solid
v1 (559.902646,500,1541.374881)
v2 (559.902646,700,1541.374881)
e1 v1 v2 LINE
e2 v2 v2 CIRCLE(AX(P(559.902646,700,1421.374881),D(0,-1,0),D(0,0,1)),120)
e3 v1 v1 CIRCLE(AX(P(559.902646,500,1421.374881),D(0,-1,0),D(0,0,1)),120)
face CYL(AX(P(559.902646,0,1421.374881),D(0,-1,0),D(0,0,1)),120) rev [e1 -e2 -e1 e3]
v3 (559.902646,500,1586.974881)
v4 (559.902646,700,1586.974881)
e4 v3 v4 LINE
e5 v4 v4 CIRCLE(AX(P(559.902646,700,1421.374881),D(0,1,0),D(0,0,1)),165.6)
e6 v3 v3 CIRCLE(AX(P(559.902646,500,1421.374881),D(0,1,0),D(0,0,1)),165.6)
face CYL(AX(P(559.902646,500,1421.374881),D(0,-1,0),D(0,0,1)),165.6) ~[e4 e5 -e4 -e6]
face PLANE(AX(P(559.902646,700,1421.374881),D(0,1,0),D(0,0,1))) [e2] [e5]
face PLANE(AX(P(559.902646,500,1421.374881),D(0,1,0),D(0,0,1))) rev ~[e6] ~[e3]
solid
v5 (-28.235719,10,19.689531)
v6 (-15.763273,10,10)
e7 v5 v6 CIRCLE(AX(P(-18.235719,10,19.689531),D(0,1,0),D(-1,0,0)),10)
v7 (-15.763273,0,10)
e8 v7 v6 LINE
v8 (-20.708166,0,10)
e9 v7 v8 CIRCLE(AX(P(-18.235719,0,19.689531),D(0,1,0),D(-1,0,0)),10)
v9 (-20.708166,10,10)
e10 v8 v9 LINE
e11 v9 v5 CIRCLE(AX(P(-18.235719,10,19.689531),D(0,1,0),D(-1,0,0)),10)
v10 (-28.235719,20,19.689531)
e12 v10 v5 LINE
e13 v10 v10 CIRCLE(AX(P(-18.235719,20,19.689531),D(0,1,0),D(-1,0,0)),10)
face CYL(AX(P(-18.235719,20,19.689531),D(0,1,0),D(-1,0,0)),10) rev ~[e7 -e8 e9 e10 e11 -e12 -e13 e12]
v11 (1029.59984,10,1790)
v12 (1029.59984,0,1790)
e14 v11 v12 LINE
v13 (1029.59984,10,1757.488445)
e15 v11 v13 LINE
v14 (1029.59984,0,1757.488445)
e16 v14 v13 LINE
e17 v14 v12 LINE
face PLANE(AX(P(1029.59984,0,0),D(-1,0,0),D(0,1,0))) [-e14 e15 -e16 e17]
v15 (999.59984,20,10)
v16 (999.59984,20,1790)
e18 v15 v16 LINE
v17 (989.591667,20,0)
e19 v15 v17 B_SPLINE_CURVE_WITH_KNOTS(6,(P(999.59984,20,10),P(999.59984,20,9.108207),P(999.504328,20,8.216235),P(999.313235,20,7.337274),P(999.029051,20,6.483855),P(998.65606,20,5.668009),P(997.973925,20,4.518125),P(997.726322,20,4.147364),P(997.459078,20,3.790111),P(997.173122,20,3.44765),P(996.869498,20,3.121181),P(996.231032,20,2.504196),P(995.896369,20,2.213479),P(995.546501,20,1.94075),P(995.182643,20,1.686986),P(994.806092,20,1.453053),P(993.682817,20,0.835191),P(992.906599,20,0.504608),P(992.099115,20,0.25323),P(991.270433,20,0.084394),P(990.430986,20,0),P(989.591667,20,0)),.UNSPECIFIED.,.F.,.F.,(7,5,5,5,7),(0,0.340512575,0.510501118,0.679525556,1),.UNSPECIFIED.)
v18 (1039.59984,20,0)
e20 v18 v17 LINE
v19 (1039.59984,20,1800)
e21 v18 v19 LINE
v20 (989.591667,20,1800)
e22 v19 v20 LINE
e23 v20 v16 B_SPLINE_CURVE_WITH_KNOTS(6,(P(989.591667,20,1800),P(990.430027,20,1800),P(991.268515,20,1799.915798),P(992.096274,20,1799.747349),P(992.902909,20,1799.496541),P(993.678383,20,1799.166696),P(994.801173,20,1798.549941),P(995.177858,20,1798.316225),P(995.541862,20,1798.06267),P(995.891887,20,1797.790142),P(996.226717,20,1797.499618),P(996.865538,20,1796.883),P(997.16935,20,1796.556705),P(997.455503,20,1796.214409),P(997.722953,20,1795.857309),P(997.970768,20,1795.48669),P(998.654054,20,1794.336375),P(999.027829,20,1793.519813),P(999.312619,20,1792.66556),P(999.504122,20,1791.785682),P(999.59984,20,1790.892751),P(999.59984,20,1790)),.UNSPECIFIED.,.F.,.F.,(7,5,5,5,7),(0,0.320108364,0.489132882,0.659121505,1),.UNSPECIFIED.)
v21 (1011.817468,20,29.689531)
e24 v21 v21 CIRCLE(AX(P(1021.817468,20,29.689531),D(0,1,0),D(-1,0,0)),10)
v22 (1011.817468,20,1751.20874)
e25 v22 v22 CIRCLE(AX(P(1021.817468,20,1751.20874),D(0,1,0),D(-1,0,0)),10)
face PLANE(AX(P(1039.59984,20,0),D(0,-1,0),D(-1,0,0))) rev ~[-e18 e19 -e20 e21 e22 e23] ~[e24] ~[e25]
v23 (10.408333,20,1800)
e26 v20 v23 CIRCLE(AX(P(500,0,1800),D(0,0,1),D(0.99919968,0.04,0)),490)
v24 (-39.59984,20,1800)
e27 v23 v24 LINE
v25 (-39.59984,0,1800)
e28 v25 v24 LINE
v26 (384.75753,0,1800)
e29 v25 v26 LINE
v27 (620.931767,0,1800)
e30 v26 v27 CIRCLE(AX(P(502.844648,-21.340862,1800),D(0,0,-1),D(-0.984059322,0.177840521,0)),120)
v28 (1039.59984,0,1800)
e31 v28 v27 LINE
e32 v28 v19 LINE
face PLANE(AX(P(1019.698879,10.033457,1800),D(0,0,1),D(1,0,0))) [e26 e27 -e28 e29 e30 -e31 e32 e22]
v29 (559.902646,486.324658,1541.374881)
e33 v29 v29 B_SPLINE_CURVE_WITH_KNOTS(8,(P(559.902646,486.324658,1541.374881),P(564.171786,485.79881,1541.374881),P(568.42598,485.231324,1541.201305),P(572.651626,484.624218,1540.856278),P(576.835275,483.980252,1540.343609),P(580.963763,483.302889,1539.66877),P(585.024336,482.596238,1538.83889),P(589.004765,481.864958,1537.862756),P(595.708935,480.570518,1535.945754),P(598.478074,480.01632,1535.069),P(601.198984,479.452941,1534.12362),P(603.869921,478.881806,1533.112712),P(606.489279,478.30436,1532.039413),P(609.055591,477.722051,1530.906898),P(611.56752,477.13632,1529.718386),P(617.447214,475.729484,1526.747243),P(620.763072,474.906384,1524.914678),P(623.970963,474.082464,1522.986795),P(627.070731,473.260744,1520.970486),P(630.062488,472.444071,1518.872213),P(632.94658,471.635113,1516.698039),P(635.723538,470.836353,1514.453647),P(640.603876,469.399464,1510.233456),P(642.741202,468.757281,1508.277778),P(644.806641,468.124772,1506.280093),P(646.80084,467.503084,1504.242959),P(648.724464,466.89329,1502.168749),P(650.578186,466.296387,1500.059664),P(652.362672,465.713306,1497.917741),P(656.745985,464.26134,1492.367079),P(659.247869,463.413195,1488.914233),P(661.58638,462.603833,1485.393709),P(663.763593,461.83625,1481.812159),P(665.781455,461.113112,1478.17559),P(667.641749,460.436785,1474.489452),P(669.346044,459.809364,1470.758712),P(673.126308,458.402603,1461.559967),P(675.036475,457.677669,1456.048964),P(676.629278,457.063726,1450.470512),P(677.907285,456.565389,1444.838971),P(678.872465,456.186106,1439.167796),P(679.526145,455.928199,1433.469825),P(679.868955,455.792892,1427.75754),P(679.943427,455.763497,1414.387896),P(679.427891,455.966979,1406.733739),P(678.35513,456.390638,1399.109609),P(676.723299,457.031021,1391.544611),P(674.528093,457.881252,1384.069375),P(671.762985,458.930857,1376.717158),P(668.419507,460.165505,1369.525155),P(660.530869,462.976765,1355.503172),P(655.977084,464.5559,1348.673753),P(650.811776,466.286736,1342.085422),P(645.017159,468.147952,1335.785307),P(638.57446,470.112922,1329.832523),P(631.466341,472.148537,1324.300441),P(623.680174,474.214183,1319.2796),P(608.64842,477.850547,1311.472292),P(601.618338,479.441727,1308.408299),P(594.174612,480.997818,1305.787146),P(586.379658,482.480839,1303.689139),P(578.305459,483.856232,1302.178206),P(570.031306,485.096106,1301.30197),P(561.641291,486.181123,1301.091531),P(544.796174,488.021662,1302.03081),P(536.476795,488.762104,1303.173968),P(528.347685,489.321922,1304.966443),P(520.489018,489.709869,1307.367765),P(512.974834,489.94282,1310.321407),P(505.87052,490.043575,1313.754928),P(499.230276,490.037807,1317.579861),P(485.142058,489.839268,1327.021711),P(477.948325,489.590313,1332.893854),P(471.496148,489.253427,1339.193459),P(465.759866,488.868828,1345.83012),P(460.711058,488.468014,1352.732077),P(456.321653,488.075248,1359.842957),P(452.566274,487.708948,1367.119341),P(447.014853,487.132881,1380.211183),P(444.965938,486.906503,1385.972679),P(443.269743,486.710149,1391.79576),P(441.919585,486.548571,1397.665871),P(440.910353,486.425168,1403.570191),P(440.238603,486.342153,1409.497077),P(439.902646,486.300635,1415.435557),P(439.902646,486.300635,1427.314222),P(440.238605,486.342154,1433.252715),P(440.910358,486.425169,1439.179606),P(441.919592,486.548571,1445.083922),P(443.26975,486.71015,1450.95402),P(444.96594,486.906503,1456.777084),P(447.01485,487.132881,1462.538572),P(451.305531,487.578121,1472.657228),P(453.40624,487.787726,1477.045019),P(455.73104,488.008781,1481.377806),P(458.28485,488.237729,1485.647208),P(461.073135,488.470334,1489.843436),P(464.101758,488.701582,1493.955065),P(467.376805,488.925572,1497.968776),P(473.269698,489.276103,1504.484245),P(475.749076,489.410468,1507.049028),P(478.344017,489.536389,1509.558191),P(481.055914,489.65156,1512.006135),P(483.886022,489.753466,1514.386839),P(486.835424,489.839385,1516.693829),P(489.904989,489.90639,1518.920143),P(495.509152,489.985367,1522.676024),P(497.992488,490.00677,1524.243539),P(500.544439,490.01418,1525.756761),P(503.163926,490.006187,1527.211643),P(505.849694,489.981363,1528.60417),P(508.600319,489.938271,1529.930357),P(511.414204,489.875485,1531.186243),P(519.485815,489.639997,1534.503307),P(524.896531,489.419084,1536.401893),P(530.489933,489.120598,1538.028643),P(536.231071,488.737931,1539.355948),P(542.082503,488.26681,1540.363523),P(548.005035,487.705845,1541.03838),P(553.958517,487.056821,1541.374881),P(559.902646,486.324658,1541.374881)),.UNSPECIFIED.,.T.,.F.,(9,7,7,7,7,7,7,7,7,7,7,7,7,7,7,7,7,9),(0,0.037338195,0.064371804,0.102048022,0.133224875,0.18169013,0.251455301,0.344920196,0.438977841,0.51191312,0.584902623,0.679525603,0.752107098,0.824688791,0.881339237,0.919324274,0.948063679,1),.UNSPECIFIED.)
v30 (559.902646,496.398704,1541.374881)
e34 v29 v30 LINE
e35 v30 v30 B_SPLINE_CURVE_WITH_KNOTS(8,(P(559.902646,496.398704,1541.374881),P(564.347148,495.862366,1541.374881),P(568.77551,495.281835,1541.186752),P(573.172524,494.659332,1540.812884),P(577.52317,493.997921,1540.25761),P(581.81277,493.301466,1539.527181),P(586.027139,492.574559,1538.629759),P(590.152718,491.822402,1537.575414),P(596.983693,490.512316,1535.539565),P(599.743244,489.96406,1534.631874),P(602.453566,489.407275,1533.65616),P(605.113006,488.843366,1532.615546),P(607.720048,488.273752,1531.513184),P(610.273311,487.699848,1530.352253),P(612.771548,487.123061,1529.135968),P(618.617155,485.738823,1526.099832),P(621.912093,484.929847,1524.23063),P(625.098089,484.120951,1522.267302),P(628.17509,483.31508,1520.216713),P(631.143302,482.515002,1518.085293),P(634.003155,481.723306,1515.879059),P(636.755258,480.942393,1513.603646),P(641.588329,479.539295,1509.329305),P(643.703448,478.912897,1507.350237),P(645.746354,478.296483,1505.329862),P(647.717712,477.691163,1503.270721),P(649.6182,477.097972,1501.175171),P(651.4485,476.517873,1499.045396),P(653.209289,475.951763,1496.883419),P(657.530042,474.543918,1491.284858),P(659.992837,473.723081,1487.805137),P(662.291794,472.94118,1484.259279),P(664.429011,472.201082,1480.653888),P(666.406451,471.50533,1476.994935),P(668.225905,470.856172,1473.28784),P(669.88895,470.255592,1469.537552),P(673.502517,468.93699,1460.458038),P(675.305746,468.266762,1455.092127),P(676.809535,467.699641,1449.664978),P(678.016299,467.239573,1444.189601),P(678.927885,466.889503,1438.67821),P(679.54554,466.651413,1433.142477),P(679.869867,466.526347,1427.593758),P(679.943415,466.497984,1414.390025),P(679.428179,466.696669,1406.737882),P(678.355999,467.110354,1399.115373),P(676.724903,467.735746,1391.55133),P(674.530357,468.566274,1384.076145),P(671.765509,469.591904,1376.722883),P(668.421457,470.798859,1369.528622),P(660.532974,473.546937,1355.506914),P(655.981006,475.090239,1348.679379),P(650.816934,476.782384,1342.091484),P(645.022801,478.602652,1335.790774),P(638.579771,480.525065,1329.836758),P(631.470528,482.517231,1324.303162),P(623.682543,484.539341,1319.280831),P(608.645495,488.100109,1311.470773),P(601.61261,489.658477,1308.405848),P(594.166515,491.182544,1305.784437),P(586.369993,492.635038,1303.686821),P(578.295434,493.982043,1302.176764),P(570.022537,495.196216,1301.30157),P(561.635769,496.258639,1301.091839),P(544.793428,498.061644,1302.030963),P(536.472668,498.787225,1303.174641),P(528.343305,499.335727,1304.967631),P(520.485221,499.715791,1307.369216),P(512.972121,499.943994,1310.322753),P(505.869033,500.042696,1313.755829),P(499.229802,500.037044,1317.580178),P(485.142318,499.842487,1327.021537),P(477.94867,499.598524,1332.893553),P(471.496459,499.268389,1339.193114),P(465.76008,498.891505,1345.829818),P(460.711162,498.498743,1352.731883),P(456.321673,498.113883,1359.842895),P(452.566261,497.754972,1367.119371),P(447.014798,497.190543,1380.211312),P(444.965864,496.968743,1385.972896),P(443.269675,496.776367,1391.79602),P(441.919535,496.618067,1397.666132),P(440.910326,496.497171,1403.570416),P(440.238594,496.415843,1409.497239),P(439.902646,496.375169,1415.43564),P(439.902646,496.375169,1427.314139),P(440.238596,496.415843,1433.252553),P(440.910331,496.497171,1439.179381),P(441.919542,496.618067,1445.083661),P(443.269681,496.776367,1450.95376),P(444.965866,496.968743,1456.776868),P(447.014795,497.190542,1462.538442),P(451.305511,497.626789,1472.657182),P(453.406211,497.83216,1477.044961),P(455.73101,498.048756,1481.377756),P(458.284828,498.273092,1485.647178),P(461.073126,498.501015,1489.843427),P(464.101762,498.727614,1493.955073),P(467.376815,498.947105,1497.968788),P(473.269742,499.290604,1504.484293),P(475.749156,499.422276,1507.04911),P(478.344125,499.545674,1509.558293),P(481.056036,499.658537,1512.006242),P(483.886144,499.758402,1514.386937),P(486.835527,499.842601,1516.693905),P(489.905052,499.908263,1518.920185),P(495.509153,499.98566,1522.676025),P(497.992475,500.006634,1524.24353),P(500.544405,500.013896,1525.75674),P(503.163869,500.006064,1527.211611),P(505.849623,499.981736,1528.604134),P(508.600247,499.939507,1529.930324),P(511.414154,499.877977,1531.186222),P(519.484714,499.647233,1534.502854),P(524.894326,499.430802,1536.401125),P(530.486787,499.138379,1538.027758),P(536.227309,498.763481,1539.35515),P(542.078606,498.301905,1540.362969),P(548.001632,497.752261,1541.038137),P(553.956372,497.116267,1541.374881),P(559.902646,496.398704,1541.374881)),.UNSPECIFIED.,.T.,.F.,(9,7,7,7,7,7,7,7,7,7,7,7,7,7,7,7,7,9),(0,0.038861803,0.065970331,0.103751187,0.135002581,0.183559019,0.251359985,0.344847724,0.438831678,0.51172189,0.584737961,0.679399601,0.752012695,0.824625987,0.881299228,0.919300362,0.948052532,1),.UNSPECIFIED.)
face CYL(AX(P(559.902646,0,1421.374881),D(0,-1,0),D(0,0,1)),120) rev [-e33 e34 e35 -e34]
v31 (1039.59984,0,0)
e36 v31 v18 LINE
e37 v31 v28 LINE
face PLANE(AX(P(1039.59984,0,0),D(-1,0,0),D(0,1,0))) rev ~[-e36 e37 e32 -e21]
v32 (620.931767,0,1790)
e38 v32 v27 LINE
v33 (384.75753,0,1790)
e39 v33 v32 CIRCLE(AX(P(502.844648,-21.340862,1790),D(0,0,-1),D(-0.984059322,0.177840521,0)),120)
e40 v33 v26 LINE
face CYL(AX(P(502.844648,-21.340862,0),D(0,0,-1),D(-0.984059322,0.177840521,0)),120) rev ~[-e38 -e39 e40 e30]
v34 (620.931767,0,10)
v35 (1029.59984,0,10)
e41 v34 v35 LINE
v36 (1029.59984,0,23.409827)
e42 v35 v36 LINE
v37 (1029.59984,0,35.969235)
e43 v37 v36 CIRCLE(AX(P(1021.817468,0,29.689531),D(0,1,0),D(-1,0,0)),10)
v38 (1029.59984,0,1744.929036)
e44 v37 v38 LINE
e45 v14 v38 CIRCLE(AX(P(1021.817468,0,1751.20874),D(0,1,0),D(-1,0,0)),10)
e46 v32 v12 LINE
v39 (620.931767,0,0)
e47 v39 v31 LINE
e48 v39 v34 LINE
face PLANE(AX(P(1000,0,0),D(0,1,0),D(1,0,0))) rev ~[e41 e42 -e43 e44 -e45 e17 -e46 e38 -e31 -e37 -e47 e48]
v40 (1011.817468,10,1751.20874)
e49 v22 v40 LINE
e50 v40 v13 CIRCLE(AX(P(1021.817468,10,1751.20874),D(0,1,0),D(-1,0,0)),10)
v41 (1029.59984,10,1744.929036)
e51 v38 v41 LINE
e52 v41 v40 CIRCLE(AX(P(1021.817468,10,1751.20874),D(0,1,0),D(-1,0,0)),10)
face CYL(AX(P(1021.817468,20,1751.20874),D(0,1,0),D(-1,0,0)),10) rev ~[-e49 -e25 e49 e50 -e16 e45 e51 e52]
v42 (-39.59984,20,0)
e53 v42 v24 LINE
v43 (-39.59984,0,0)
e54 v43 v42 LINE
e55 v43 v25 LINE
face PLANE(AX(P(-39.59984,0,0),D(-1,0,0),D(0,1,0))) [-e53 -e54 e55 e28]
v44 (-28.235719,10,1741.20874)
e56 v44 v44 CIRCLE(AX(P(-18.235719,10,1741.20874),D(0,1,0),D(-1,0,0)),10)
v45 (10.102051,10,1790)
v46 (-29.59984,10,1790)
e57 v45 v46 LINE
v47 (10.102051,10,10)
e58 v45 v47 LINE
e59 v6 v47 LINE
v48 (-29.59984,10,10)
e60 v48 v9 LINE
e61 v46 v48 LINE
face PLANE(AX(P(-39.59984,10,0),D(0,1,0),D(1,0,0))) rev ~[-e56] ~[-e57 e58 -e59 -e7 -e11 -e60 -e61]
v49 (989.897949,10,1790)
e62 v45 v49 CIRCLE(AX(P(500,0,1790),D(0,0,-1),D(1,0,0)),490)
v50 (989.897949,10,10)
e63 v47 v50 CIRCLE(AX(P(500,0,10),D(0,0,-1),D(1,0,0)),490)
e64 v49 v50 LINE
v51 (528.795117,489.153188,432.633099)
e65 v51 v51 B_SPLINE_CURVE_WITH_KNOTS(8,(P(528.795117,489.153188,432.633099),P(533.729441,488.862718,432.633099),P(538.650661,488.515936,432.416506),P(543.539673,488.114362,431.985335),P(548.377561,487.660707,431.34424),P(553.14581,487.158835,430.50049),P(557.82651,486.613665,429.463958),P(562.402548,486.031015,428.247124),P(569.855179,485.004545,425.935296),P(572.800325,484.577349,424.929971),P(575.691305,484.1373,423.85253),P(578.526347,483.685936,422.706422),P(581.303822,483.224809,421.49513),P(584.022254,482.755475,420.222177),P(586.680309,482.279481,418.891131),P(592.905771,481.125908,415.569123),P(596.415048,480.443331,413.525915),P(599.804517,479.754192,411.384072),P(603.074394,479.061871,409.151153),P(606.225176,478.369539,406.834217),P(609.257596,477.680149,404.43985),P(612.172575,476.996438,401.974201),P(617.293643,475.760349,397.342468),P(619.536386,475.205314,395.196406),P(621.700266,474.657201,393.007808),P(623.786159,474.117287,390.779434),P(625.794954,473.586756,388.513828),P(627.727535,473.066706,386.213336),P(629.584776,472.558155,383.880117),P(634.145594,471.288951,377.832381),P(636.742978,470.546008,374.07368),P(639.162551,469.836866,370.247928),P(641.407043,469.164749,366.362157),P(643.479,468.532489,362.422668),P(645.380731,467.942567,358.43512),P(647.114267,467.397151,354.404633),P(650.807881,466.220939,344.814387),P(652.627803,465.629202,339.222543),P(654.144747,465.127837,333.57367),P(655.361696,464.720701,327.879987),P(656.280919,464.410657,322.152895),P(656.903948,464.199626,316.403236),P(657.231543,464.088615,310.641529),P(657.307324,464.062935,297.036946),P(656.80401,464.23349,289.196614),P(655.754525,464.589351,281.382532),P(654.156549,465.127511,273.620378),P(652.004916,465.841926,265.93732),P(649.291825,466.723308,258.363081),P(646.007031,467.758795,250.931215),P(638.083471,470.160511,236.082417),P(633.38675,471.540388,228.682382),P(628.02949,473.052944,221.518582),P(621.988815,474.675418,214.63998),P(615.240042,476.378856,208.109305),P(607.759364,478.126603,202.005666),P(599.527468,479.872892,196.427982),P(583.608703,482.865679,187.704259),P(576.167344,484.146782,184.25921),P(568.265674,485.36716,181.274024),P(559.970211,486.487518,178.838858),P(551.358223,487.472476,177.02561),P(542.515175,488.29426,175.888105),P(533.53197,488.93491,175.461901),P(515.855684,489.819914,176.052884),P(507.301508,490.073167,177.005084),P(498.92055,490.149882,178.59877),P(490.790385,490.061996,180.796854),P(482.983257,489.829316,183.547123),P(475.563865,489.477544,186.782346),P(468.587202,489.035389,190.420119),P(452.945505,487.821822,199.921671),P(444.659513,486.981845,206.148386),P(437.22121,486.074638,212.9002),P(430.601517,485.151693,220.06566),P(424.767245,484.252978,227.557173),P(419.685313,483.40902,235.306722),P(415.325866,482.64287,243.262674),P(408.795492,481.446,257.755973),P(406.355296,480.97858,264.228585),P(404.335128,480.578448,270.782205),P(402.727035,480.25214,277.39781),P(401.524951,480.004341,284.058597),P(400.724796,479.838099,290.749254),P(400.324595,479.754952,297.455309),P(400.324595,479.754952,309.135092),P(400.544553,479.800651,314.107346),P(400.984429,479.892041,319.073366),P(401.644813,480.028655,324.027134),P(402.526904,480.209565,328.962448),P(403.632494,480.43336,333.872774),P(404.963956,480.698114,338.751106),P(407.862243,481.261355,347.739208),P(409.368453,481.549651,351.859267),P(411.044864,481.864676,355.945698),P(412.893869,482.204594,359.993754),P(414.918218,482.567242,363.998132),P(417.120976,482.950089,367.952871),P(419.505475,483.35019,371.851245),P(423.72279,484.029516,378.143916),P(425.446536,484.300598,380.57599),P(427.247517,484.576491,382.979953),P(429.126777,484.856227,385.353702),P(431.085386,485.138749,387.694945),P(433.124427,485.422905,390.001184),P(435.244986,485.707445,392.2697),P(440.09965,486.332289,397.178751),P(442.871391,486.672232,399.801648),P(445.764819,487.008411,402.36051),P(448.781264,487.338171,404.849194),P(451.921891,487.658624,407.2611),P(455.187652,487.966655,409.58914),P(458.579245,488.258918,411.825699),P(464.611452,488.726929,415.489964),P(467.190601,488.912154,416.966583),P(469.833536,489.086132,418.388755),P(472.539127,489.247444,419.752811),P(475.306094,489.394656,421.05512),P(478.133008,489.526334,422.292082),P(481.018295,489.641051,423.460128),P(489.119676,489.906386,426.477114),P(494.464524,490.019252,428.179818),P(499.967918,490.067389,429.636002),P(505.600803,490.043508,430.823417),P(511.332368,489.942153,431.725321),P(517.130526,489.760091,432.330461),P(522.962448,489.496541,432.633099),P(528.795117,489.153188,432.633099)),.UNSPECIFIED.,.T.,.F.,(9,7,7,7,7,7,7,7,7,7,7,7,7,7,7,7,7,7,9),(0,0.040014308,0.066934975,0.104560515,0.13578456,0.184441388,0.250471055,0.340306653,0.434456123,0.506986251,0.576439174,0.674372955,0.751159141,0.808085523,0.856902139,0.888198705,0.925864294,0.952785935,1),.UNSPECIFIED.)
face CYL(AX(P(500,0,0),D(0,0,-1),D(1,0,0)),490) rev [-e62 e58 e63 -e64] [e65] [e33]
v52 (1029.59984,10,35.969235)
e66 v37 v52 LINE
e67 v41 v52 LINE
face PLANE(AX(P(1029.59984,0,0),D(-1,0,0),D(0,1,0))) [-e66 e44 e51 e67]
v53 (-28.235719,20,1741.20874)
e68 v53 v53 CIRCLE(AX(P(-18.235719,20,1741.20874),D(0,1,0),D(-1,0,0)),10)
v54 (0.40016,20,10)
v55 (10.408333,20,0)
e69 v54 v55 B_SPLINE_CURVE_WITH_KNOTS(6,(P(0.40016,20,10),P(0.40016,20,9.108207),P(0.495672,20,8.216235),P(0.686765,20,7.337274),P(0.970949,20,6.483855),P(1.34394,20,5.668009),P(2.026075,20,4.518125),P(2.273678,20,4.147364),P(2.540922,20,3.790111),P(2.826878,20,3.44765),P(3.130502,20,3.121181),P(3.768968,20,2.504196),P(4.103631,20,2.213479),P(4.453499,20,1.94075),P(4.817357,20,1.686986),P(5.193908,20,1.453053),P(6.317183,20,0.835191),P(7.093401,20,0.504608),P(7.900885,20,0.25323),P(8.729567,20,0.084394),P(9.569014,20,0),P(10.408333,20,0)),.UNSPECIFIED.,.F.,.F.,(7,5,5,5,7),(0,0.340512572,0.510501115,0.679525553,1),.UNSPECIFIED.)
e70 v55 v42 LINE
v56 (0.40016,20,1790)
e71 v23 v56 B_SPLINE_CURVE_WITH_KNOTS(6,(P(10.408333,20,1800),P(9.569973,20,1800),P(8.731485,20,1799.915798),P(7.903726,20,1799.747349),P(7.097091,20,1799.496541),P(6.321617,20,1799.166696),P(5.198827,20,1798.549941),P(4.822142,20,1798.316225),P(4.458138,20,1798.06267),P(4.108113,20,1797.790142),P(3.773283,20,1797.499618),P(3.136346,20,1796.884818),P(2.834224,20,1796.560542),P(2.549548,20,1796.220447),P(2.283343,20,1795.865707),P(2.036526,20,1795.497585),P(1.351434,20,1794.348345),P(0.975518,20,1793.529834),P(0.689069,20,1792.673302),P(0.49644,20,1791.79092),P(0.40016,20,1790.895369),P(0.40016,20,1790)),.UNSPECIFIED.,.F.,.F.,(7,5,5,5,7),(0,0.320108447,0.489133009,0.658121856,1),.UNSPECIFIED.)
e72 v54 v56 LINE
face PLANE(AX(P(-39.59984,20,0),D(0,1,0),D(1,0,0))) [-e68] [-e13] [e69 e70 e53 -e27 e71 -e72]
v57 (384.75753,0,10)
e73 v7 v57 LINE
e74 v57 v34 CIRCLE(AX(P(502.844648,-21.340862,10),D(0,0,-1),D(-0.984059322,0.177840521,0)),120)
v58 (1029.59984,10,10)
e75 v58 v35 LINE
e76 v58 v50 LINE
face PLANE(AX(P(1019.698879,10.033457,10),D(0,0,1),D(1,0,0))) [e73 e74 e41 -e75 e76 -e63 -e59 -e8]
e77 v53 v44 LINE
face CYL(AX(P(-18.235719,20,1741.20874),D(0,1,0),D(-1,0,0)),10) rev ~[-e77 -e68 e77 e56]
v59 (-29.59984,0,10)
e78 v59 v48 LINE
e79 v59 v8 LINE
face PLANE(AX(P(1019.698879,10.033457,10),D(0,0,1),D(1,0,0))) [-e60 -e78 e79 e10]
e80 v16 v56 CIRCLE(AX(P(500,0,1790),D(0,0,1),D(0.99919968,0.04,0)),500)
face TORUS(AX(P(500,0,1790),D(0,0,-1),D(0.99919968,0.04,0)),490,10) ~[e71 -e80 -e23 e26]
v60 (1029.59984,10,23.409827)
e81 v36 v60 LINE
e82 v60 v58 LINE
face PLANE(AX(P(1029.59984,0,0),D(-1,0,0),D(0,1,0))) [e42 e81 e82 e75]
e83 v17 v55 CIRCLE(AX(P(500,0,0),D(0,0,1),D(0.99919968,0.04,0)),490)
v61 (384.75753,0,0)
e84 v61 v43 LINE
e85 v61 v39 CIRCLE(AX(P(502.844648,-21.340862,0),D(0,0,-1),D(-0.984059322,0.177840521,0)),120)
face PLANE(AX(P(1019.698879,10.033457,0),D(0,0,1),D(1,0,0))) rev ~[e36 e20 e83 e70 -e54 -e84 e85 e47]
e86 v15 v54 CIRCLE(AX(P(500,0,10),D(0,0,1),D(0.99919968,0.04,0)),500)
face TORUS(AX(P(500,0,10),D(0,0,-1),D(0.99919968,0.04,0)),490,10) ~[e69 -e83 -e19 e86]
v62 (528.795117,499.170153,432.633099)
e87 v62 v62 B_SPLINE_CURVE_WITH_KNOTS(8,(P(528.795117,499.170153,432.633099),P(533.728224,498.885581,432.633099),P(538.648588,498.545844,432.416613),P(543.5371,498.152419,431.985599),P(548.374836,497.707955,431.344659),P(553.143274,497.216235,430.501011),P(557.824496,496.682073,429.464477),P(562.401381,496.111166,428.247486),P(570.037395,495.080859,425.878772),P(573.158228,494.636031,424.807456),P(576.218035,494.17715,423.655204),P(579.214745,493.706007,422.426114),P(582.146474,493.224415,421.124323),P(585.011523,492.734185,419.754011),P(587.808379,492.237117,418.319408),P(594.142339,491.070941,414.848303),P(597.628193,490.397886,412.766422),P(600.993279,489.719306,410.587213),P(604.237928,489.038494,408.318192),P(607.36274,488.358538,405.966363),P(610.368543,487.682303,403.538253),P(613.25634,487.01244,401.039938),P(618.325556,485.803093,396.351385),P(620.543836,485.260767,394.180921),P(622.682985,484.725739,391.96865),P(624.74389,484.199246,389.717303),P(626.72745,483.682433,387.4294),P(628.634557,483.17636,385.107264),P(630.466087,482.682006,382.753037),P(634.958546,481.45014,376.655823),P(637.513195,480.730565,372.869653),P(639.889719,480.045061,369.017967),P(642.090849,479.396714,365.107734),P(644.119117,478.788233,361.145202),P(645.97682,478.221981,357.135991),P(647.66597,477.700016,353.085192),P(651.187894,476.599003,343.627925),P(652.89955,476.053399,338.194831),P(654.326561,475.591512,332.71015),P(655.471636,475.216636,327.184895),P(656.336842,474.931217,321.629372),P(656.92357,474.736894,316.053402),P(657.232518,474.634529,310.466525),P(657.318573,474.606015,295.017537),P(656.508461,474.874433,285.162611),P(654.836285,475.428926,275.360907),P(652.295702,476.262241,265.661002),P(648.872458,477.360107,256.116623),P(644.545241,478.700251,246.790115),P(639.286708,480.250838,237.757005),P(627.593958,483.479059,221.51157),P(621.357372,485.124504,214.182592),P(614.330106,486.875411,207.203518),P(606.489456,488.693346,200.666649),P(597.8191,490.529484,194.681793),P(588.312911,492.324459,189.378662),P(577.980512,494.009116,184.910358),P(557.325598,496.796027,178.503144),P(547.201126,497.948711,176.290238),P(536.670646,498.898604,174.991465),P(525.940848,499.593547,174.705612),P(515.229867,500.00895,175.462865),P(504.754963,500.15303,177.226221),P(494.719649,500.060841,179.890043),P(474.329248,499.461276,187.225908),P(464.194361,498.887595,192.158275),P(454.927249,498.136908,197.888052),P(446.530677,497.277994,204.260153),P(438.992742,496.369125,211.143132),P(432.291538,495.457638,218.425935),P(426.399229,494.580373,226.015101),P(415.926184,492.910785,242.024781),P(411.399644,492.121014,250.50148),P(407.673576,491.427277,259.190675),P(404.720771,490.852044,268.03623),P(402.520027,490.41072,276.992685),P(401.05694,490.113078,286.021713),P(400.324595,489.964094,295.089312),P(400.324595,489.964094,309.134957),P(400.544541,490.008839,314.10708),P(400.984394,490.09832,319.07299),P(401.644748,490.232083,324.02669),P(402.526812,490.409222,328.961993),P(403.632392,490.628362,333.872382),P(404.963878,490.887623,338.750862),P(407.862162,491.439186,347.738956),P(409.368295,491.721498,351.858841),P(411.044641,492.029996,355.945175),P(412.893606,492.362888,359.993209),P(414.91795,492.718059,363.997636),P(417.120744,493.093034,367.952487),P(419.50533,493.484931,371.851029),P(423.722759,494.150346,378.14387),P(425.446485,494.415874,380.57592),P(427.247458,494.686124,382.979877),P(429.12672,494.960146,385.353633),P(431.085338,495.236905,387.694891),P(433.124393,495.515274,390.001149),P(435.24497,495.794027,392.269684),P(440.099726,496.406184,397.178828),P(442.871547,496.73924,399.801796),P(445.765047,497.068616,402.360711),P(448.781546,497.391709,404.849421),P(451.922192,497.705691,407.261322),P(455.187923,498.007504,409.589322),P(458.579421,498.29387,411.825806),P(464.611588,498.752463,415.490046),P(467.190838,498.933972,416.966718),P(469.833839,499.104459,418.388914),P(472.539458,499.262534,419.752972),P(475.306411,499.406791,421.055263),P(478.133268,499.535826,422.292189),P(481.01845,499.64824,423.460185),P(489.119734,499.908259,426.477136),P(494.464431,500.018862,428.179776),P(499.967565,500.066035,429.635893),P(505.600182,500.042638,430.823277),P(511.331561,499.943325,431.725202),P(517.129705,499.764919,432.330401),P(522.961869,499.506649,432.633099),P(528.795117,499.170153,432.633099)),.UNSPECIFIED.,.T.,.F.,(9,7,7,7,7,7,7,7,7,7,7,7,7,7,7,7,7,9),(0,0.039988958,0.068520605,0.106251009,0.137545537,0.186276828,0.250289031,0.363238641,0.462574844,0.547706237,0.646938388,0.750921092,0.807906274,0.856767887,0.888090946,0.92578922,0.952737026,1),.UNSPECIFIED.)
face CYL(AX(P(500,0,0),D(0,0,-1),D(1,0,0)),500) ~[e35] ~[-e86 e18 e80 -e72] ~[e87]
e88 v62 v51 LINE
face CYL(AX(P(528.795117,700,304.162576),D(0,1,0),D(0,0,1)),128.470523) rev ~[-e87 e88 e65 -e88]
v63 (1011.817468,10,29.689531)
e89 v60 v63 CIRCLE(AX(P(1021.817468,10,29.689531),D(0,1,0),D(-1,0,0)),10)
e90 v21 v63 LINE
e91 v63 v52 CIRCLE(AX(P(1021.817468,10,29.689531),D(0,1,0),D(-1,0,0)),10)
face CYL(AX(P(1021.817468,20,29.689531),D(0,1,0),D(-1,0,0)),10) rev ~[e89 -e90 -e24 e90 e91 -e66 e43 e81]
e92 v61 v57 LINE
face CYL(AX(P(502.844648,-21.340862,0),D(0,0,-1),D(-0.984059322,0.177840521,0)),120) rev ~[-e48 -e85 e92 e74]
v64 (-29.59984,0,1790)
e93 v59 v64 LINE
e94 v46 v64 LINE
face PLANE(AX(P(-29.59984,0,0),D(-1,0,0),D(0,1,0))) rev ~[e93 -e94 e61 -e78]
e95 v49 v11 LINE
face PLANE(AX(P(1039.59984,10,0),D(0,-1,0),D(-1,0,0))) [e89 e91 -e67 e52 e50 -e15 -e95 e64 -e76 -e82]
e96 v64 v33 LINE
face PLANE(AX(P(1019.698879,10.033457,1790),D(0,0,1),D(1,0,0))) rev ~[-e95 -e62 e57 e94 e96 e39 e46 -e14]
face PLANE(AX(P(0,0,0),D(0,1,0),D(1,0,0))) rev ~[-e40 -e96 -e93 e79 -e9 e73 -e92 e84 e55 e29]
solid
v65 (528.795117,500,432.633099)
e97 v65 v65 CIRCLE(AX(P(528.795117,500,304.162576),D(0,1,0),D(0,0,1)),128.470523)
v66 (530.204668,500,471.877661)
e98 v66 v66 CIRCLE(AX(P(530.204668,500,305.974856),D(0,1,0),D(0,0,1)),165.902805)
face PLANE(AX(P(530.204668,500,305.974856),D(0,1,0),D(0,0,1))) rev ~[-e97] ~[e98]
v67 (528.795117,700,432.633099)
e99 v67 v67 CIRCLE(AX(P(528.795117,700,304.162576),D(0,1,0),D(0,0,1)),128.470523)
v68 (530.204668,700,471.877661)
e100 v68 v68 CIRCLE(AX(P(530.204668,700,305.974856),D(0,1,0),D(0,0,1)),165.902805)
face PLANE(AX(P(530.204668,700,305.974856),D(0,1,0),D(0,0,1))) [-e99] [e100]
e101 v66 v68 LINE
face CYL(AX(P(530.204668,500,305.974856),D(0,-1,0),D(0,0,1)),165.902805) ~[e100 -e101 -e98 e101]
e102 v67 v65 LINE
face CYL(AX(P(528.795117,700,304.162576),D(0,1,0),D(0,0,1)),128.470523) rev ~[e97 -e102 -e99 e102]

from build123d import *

# Parameters (mm, degrees)
BOSS_EXTRUDE1_DEPTH = 1800
BOSS_EXTRUDE2_DEPTH = 1800
SHELL1_T            = -10
FILLET1_R           = 10
SKETCH3_R           = 10
CUT_EXTRUDE1_DEPTH  = 2134.346626248
SKETCH5_R           = 165.902804936
BOSS_EXTRUDE3_DEPTH = 200
SKETCH6_R           = 128.470522562
CUT_EXTRUDE2_DEPTH  = 2194.346262593
SKETCH7_R           = 165.6
BOSS_EXTRUDE4_DEPTH = 200
SKETCH8_R           = 120
CUT_EXTRUDE5_DEPTH  = 2194.346262593


with BuildPart() as part:
    # Sketch1 → Boss-Extrude1 (new body)
    with BuildSketch(Plane.XY):
        with BuildLine():
            Line((0, 0), (384.757529665, 0))
            ThreePointArc((384.757529665, 0), (502.844648307, 98.659137532), (620.931766949, 0))
            Line((620.931766949, 0), (1000, 0))
            ThreePointArc((1000, 0), (500, 500), (0, 0))
        make_face()
    extrude(amount=BOSS_EXTRUDE1_DEPTH)

    # Sketch2 → Boss-Extrude2 (add)
    with BuildSketch(Plane.XY):
        Polygon((1000, 0), (1039.599839872, 0), (1039.599839872, 20), (999.599839872, 20), align=None)
        Polygon((0, 0), (-39.599839872, 0), (-39.599839872, 20), (0.400160128, 20), align=None)
    extrude(amount=BOSS_EXTRUDE2_DEPTH)

    # Shell1
    shell1_openings = [part.faces().sort_by_distance(p)[0] for p in [
        (830.265803411, 0, 900),
        (502.844648307, 98.659137532, 900),
        (172.578844897, 0, 900),
    ]]
    offset(amount=SHELL1_T, openings=shell1_openings, kind=Kind.INTERSECTION)

    # Fillet1
    fillet1_edges = [part.edges().sort_by_distance(p)[0] for p in [
        (500, 500, 0),
        (500, 500, 1800),
    ]]
    fillet(fillet1_edges, radius=FILLET1_R)

    # Sketch3 → Cut-Extrude1 (cut, through all)
    with BuildSketch(Plane(origin=(0, 20, 0), x_dir=(1, 0, 0), z_dir=(0, 1, 0))):
        with Locations(Location((-18.235719302, -19.68953089, 0), (0, 0, 180))):
            Circle(SKETCH3_R)
        with Locations(Location((1021.817467904, -29.68953089, 0), (0, 0, 180))):
            Circle(SKETCH3_R)
        with Locations(Location((1021.817467904, -1751.208740349, 0), (0, 0, 180))):
            Circle(SKETCH3_R)
        with Locations(Location((-18.235719302, -1741.208740349, 0), (0, 0, 180))):
            Circle(SKETCH3_R)
    extrude(amount=-CUT_EXTRUDE1_DEPTH, mode=Mode.SUBTRACT)


with BuildPart() as body_2:
    # Sketch5 → Boss-Extrude3 (new body)
    with BuildSketch(Plane(origin=(0, 500, 0), x_dir=(1, 0, 0), z_dir=(0, 1, 0))):
        with Locations(Location((530.204668314, -305.974856492, 0), (0, 0, 270))):
            Circle(SKETCH5_R)
    extrude(amount=BOSS_EXTRUDE3_DEPTH)


with BuildPart() as cut_extrude2_tool:
    # Sketch6 → Cut-Extrude2 (new, through all)
    with BuildSketch(Plane(origin=(0, 700, 0), x_dir=(1, 0, 0), z_dir=(0, 1, 0))):
        with Locations(Location((528.795117126, -304.162576394, 0), (0, 0, 270))):
            Circle(SKETCH6_R)
    extrude(amount=-CUT_EXTRUDE2_DEPTH)


with BuildPart() as part_1:
    add(part.part)

    # Cut-Extrude2: cut by cut_extrude2_tool
    add(cut_extrude2_tool.part, mode=Mode.SUBTRACT)


with BuildPart() as body_2_1:
    add(body_2.part)

    # Cut-Extrude2: cut by cut_extrude2_tool
    add(cut_extrude2_tool.part, mode=Mode.SUBTRACT)


with BuildPart() as body_3:
    # Sketch7 → Boss-Extrude4 (new body)
    with BuildSketch(Plane(origin=(0, 500, 0), x_dir=(1, 0, 0), z_dir=(0, 1, 0))):
        with Locations(Location((559.902645938, -1421.374881312, 0), (0, 0, 270))):
            Circle(SKETCH7_R)
    extrude(amount=BOSS_EXTRUDE4_DEPTH)


with BuildPart() as cut_extrude5_tool:
    # Sketch8 → Cut-Extrude5 (new, through all)
    with BuildSketch(Plane(origin=(0, 0, 0), x_dir=(1, 0, 0), z_dir=(0, 1, 0))):
        with Locations(Location((559.902645938, -1421.374881312, 0), (0, 0, 270))):
            Circle(SKETCH8_R)
    extrude(amount=CUT_EXTRUDE5_DEPTH)


with BuildPart() as part_2:
    add(part_1.part)

    # Cut-Extrude5: cut by cut_extrude5_tool
    add(cut_extrude5_tool.part, mode=Mode.SUBTRACT)


with BuildPart() as body_3_1:
    add(body_3.part)

    # Cut-Extrude5: cut by cut_extrude5_tool
    add(cut_extrude5_tool.part, mode=Mode.SUBTRACT)


solid = Compound([body_2_1.part, part_2.part, body_3_1.part])
